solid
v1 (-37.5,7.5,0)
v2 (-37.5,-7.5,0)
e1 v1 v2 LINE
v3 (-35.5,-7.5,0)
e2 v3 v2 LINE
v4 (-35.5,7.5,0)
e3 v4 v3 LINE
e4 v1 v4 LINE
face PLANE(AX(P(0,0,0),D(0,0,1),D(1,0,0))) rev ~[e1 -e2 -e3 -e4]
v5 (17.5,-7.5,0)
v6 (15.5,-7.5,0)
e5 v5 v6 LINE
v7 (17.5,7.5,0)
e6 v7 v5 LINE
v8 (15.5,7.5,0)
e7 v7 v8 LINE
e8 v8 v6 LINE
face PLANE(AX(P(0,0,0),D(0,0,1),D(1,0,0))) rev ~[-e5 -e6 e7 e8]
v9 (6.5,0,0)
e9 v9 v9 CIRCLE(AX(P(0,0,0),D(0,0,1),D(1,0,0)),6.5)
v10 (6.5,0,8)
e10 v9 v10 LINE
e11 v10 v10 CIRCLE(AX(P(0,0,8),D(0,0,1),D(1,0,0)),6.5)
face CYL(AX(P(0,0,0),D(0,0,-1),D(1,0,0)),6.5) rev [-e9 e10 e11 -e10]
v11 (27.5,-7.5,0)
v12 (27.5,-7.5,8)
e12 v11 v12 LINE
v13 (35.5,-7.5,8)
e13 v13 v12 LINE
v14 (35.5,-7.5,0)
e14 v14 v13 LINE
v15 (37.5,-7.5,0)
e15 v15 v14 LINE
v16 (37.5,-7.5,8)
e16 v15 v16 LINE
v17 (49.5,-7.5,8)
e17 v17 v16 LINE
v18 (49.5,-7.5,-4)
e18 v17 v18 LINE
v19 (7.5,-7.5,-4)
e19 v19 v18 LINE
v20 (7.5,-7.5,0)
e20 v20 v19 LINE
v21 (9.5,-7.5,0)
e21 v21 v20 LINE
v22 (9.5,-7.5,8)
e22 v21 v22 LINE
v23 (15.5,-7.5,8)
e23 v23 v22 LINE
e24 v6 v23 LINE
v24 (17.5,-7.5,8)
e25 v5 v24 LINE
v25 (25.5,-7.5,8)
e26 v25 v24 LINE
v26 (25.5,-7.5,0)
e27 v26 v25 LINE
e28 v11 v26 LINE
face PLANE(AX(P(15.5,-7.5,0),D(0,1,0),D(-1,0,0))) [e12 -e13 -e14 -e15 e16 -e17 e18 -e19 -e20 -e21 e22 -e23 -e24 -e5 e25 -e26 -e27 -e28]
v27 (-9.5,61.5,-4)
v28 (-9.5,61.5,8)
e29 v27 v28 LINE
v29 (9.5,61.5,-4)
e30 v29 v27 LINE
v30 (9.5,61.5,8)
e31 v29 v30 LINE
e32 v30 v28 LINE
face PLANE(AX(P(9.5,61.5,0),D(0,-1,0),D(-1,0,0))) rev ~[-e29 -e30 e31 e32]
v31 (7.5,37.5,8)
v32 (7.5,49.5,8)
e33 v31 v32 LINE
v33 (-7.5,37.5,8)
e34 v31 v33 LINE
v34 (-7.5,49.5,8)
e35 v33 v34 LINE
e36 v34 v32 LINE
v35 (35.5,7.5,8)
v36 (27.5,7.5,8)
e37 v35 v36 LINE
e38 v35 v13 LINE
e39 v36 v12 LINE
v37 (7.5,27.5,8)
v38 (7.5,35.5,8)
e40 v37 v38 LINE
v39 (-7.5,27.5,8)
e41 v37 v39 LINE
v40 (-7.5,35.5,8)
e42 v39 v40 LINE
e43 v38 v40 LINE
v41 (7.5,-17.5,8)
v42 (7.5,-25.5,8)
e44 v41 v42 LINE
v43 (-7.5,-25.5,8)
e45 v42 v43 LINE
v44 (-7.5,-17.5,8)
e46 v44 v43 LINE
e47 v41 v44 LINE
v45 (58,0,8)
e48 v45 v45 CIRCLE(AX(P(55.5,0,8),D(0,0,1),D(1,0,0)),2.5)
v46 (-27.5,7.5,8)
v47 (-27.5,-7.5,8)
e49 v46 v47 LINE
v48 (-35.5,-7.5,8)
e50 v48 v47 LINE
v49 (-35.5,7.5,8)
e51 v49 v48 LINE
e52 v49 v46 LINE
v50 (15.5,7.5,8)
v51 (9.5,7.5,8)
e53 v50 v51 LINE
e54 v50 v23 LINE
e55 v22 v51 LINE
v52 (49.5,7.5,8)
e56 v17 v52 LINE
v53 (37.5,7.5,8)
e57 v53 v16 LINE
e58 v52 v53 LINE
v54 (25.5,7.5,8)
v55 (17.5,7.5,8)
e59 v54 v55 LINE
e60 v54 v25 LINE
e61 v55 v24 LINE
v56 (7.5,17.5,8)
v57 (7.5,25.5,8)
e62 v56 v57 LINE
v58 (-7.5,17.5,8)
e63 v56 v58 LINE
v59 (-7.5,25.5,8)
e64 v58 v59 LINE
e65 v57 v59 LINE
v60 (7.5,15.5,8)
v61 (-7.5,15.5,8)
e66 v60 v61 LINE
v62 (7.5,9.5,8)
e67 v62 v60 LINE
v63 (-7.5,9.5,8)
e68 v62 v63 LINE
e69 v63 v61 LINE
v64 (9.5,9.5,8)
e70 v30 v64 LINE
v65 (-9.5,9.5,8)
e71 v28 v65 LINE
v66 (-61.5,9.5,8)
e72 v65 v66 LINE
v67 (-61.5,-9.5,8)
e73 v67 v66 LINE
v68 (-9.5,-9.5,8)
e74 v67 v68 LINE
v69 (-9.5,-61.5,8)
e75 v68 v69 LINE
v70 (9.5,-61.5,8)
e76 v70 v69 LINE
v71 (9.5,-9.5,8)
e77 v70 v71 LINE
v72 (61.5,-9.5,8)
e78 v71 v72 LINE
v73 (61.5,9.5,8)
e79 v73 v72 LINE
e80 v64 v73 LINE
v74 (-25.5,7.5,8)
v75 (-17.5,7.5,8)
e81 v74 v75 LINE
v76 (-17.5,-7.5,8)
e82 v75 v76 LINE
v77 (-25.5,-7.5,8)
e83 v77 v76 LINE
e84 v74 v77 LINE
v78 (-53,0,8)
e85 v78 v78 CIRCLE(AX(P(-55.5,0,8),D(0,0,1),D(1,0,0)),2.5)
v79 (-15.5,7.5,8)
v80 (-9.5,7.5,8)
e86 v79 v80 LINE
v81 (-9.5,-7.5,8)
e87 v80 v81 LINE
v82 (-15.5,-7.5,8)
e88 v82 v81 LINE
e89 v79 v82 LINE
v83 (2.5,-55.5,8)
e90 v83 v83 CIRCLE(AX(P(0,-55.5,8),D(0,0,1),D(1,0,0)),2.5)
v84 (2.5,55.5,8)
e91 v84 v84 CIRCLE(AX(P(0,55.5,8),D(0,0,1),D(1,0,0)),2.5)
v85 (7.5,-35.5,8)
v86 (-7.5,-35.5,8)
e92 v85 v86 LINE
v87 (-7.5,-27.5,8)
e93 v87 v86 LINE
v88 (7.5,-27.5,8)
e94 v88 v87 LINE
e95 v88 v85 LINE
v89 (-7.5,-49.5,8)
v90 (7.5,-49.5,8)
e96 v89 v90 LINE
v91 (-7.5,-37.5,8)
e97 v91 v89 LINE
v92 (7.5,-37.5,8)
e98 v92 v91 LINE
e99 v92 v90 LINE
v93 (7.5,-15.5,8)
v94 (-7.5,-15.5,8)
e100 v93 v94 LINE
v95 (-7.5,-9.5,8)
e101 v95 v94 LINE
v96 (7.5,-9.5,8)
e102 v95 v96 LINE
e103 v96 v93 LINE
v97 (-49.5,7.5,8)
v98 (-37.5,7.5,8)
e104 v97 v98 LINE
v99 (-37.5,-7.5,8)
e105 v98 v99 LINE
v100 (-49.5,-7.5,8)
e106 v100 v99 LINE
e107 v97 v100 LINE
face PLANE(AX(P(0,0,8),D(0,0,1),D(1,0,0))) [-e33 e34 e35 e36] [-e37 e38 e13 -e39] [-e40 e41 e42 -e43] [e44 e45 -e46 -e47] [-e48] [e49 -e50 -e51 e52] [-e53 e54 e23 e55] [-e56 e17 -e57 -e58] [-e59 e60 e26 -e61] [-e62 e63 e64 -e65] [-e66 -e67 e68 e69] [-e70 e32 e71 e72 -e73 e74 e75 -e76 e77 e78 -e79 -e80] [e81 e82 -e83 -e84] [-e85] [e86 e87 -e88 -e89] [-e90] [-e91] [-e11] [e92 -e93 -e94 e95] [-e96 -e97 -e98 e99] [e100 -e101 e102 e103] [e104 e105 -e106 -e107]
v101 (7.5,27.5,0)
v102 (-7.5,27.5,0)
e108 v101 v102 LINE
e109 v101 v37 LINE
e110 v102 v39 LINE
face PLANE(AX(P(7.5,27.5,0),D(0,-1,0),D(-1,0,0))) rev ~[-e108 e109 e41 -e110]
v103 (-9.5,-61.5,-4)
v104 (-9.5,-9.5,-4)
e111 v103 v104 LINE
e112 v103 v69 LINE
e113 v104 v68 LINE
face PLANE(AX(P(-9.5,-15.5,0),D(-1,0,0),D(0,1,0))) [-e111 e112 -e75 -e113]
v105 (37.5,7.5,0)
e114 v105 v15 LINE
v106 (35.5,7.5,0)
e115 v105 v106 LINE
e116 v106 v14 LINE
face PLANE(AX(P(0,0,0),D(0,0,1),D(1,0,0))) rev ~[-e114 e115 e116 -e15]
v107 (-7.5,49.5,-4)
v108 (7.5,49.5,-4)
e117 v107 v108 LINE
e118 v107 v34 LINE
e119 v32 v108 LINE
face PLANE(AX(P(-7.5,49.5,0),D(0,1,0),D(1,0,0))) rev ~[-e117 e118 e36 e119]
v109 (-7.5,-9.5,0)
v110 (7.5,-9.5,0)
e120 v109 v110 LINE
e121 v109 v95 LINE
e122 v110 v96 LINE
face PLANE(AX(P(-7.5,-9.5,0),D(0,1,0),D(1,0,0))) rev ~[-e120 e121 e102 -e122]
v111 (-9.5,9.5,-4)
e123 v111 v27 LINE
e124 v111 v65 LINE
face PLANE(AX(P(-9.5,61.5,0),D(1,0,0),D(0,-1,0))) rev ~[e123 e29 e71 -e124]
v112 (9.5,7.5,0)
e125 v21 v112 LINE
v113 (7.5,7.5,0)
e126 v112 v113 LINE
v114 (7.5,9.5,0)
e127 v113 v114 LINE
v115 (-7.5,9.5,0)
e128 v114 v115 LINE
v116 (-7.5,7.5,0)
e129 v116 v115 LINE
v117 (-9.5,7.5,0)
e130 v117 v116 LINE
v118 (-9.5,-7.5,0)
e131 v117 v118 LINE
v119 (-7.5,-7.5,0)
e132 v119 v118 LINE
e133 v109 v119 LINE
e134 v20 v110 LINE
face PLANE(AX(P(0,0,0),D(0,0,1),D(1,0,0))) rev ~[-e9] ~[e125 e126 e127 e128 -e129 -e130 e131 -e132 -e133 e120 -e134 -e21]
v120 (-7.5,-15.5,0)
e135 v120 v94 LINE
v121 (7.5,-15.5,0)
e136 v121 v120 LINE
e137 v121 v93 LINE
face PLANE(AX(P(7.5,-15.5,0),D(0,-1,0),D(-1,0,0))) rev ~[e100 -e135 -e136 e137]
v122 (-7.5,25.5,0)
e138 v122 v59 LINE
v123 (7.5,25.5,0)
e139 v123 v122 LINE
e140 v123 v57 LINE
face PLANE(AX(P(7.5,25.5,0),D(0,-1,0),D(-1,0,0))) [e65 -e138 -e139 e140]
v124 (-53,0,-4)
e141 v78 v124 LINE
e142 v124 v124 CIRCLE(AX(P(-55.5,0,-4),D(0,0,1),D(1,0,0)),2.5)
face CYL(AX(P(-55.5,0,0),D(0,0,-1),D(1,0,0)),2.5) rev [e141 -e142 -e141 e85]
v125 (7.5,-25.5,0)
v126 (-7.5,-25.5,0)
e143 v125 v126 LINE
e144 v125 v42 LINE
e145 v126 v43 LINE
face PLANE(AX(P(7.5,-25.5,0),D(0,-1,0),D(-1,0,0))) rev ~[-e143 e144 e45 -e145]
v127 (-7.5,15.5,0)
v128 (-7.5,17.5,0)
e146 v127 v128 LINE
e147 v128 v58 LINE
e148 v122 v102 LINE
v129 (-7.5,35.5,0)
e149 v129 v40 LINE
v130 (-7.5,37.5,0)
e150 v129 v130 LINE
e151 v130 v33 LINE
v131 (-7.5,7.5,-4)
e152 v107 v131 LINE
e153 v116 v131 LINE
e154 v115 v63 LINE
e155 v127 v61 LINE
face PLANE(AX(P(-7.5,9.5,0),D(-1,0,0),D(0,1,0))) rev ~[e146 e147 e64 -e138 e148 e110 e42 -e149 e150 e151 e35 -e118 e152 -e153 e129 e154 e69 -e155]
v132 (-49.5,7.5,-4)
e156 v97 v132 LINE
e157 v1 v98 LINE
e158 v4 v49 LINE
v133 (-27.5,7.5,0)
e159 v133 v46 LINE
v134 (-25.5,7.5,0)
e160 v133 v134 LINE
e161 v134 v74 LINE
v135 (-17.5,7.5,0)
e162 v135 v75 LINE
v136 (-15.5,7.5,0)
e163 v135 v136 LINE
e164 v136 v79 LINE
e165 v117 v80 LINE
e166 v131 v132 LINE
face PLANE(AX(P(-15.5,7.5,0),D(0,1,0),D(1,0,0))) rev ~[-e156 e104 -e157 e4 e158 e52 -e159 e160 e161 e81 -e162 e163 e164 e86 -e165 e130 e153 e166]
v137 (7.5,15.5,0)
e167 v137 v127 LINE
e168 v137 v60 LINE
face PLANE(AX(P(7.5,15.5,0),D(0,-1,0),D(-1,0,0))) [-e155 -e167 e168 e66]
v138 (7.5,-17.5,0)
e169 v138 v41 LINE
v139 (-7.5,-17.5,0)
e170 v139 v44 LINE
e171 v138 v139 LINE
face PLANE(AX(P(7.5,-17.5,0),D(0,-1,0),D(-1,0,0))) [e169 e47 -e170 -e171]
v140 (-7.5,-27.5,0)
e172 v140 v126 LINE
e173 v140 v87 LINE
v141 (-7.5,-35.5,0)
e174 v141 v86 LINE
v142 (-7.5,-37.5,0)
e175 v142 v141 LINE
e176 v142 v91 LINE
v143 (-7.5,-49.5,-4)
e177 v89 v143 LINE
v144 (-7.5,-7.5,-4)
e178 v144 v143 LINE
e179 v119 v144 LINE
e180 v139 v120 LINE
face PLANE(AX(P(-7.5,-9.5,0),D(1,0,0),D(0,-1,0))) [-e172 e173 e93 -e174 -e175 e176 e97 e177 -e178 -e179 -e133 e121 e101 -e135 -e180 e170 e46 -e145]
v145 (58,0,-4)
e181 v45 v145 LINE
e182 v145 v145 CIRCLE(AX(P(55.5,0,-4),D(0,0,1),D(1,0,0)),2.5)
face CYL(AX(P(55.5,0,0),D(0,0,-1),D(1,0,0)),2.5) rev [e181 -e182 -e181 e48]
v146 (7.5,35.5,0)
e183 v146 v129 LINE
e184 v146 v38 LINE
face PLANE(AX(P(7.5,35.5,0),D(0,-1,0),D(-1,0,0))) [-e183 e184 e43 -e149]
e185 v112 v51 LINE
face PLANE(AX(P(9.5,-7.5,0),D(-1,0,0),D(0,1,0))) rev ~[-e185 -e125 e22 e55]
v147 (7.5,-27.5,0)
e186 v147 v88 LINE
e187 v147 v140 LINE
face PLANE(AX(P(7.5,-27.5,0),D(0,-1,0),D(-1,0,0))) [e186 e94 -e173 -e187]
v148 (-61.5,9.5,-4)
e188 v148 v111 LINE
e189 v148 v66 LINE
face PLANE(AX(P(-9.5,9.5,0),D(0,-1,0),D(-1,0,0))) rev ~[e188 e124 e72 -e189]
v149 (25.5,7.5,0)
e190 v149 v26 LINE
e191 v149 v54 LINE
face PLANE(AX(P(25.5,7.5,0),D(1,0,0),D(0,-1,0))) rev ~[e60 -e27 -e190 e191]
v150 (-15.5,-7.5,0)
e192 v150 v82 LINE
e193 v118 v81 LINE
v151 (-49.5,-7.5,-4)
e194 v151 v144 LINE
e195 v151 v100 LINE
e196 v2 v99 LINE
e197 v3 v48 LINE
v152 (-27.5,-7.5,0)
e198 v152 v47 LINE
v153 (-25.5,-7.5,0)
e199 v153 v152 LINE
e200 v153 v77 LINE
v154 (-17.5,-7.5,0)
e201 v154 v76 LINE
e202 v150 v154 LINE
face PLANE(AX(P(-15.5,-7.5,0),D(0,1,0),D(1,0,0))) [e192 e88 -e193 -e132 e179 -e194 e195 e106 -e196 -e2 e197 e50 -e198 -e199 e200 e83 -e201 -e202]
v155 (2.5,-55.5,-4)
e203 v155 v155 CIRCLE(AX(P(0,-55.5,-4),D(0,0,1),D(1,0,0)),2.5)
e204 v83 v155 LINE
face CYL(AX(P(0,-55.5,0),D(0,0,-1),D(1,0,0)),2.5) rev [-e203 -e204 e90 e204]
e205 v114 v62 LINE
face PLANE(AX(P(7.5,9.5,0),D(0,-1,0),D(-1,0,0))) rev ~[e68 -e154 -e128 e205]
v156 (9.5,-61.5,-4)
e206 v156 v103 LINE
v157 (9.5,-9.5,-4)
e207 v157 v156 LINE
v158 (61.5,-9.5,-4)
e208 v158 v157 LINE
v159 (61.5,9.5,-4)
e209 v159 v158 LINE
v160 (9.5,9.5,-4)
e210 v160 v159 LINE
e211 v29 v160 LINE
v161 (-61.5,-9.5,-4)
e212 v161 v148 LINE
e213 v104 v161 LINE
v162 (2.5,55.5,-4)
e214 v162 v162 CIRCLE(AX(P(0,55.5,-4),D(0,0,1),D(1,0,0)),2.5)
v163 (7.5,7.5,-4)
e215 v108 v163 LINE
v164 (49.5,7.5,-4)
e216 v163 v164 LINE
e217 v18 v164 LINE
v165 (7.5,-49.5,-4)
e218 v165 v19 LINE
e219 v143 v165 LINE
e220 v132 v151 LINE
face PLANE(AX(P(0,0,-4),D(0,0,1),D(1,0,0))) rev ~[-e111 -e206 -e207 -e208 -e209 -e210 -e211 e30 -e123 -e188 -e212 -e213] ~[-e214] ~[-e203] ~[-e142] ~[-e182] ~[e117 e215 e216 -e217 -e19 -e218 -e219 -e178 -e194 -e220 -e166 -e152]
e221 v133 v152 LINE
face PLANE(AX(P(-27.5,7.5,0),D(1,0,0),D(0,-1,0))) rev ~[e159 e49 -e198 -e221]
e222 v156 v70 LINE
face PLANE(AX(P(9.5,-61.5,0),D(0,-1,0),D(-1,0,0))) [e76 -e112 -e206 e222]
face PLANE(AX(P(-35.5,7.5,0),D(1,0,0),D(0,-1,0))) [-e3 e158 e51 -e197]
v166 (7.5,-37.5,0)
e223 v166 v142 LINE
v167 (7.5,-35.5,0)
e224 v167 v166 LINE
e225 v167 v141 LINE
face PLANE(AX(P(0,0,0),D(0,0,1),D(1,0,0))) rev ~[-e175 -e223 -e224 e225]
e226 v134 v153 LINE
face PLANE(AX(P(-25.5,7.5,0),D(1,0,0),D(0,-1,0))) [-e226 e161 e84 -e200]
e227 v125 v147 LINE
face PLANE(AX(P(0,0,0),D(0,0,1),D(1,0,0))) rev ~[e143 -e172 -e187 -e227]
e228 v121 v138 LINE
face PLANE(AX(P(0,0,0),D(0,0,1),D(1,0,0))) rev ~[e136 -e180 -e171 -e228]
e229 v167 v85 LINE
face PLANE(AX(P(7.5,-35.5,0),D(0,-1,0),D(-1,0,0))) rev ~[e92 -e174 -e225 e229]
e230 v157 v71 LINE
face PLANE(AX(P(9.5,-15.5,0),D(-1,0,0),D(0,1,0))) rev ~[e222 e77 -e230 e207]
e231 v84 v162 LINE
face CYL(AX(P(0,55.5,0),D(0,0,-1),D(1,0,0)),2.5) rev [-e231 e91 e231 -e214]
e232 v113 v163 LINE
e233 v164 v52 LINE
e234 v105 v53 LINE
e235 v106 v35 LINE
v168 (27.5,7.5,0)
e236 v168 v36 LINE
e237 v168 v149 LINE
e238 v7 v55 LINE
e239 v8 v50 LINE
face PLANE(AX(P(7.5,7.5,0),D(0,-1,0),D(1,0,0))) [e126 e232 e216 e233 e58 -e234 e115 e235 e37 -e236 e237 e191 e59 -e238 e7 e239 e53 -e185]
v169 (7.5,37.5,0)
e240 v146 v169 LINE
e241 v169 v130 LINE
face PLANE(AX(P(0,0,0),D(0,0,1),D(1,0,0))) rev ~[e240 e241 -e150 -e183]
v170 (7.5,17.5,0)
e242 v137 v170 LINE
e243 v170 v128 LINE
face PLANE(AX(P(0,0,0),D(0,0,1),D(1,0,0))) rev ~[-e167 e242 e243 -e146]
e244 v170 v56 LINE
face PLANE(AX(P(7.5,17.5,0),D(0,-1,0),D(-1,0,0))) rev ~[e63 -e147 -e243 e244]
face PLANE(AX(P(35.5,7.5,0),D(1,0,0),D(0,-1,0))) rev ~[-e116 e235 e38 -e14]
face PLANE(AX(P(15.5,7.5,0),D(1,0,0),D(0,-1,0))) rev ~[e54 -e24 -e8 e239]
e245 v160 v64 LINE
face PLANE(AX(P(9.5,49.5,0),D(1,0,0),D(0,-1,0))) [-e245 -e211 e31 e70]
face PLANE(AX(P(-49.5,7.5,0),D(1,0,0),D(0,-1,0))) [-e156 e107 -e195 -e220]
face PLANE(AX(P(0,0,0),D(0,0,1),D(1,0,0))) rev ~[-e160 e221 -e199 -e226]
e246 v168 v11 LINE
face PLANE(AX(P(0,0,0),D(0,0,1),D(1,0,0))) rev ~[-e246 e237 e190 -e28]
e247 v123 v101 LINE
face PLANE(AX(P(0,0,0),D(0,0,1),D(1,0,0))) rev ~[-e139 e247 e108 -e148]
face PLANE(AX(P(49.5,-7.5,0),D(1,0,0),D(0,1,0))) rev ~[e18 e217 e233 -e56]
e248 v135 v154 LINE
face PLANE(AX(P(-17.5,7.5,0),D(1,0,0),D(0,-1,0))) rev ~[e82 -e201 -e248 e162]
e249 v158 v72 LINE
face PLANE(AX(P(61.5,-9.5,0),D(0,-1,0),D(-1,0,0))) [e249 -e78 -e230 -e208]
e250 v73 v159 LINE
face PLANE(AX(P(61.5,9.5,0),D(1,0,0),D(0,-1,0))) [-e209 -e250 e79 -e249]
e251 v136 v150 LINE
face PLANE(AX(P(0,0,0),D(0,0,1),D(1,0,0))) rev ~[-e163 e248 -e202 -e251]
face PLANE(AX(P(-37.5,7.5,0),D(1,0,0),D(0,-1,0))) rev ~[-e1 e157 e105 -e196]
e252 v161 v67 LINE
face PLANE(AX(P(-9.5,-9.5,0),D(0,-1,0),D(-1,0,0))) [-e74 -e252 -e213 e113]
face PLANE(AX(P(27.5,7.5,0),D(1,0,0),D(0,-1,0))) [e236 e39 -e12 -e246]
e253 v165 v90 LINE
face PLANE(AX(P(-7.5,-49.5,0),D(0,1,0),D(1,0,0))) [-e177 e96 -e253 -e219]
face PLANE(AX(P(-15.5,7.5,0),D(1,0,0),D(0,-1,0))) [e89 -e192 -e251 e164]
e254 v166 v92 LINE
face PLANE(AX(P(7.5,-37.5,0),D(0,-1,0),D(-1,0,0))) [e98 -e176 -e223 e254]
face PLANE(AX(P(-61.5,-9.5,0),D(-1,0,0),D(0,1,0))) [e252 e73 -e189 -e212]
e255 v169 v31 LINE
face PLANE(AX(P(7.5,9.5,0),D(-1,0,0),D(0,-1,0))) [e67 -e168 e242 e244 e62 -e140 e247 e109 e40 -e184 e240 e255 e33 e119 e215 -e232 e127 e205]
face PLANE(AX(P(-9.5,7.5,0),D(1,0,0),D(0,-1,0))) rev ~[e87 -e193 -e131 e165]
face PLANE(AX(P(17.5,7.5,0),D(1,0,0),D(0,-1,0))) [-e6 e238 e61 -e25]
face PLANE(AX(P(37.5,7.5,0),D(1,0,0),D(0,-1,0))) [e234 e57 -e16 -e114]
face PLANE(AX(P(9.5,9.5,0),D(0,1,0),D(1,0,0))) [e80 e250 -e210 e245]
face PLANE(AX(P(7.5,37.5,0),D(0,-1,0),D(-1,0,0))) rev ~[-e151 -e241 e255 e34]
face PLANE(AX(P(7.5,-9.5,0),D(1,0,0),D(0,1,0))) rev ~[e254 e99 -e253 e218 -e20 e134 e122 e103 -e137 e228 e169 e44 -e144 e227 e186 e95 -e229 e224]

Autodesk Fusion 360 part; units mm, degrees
sketch "Esboço1" plane through (0, 0, 0) normal (0, 0, 1) x (1, 0, 0)
  line L0 (9.5, 9.5) -> (-9.5, 9.5)
  line L1 (-9.5, 9.5) -> (-9.5, -9.5)
  line L2 (-9.5, -9.5) -> (9.5, -9.5)
  line L3 (9.5, -9.5) -> (9.5, 9.5)
  line L4 (9.5, 9.5) -> (-9.5, -9.5) construction
  line L5 (-9.5, 9.5) -> (9.5, -9.5) construction
  circle A0 centre (0, 0) radius 6.5
  line L6 (-9.5, 9.5) -> (-7.5, 9.5)
  line L7 (-7.5, 9.5) -> (-7.5, 7.5)
  line L8 (-7.5, 7.5) -> (-9.5, 7.5)
  line L9 (-9.5, 7.5) -> (-9.5, 9.5)
  line L10 (9.5, 9.5) -> (7.5, 9.5)
  line L11 (7.5, 9.5) -> (7.5, 7.5)
  line L12 (7.5, 7.5) -> (9.5, 7.5)
  line L13 (9.5, 7.5) -> (9.5, 9.5)
  line L14 (-9.5, -9.5) -> (-7.5, -9.5)
  line L15 (-7.5, -9.5) -> (-7.5, -7.5)
  line L16 (-7.5, -7.5) -> (-9.5, -7.5)
  line L17 (-9.5, -7.5) -> (-9.5, -9.5)
  line L18 (9.5, -9.5) -> (7.5, -9.5)
  line L19 (7.5, -9.5) -> (7.5, -7.5)
  line L20 (7.5, -7.5) -> (9.5, -7.5)
  line L21 (9.5, -7.5) -> (9.5, -9.5)
  line L22 (-9.5, 9.5) -> (-7.5, 9.5)
  line L23 (-7.5, 9.5) -> (-7.5, 49.5)
  line L24 (-7.5, 49.5) -> (-9.5, 49.5)
  line L25 (-9.5, 49.5) -> (-9.5, 9.5)
  line L26 (9.5, 9.5) -> (7.5, 9.5)
  line L27 (7.5, 9.5) -> (7.5, 49.5)
  line L28 (7.5, 49.5) -> (9.5, 49.5)
  line L29 (9.5, 49.5) -> (9.5, 9.5)
  line L30 (-9.5, 49.5) -> (9.5, 49.5)
  line L31 (9.5, 49.5) -> (9.5, 61.5)
  line L32 (9.5, 61.5) -> (-9.5, 61.5)
  line L33 (-9.5, 61.5) -> (-9.5, 49.5)
  line L34 (-9.5, 61.5) -> (9.5, 49.5) construction
  circle A1 centre (0, 55.5) radius 2.5
  line L35 (-7.5, 9.5) -> (7.5, 9.5)
  line L36 (7.5, 9.5) -> (7.5, 15.5)
  line L37 (7.5, 15.5) -> (-7.5, 15.5)
  line L38 (-7.5, 15.5) -> (-7.5, 9.5)
  line L39 (-7.5, 15.5) -> (7.5, 15.5)
  line L40 (7.5, 15.5) -> (7.5, 17.5)
  line L41 (7.5, 17.5) -> (-7.5, 17.5)
  line L42 (-7.5, 17.5) -> (-7.5, 15.5)
  line L43 (-7.5, 17.5) -> (7.5, 17.5)
  line L44 (7.5, 17.5) -> (7.5, 25.5)
  line L45 (7.5, 25.5) -> (-7.5, 25.5)
  line L46 (-7.5, 25.5) -> (-7.5, 17.5)
  line L47 (-7.5, 25.5) -> (7.5, 25.5)
  line L48 (7.5, 25.5) -> (7.5, 27.5)
  line L49 (7.5, 27.5) -> (-7.5, 27.5)
  line L50 (-7.5, 27.5) -> (-7.5, 25.5)
  line L51 (-7.5, 27.5) -> (7.5, 27.5)
  line L52 (7.5, 27.5) -> (7.5, 35.5)
  line L53 (7.5, 35.5) -> (-7.5, 35.5)
  line L54 (-7.5, 35.5) -> (-7.5, 27.5)
  line L55 (-7.5, 35.5) -> (7.5, 35.5)
  line L56 (7.5, 35.5) -> (7.5, 37.5)
  line L57 (7.5, 37.5) -> (-7.5, 37.5)
  line L58 (-7.5, 37.5) -> (-7.5, 35.5)
  line L59 (9.5, 9.5) -> (49.5, 9.5)
  line L60 (49.5, 9.5) -> (49.5, 7.5)
  line L61 (49.5, 7.5) -> (9.5, 7.5)
  line L62 (9.5, 7.5) -> (9.5, 9.5)
  line L63 (9.5, -9.5) -> (49.5, -9.5)
  line L64 (49.5, -9.5) -> (49.5, -7.5)
  line L65 (49.5, -7.5) -> (9.5, -7.5)
  line L66 (9.5, -7.5) -> (9.5, -9.5)
  line L67 (49.5, 9.5) -> (61.5, 9.5)
  line L68 (61.5, 9.5) -> (61.5, -9.5)
  line L69 (61.5, -9.5) -> (49.5, -9.5)
  line L70 (49.5, -9.5) -> (49.5, 9.5)
  line L71 (49.5, 9.5) -> (61.5, -9.5) construction
  circle A2 centre (55.5, 0) radius 2.5
  line L72 (9.5, 7.5) -> (15.5, 7.5)
  line L73 (15.5, 7.5) -> (15.5, -7.5)
  line L74 (15.5, -7.5) -> (9.5, -7.5)
  line L75 (9.5, -7.5) -> (9.5, 7.5)
  line L76 (15.5, 7.5) -> (17.5, 7.5)
  line L77 (17.5, 7.5) -> (17.5, -7.5)
  line L78 (17.5, -7.5) -> (15.5, -7.5)
  line L79 (15.5, -7.5) -> (15.5, 7.5)
  line L80 (17.5, 7.5) -> (25.5, 7.5)
  line L81 (25.5, 7.5) -> (25.5, -7.5)
  line L82 (25.5, -7.5) -> (17.5, -7.5)
  line L83 (17.5, -7.5) -> (17.5, 7.5)
  line L84 (25.5, 7.5) -> (27.5, 7.5)
  line L85 (27.5, 7.5) -> (27.5, -7.5)
  line L86 (27.5, -7.5) -> (25.5, -7.5)
  line L87 (25.5, -7.5) -> (25.5, 7.5)
  line L88 (27.5, 7.5) -> (35.5, 7.5)
  line L89 (35.5, 7.5) -> (35.5, -7.5)
  line L90 (35.5, -7.5) -> (27.5, -7.5)
  line L91 (27.5, -7.5) -> (27.5, 7.5)
  line L92 (35.5, 7.5) -> (37.5, 7.5)
  line L93 (37.5, 7.5) -> (37.5, -7.5)
  line L94 (37.5, -7.5) -> (35.5, -7.5)
  line L95 (35.5, -7.5) -> (35.5, 7.5)
  line L96 (-9.5, -9.5) -> (-7.5, -9.5)
  line L97 (-7.5, -9.5) -> (-7.5, -49.5)
  line L98 (-7.5, -49.5) -> (-9.5, -49.5)
  line L99 (-9.5, -49.5) -> (-9.5, -9.5)
  line L100 (9.5, -9.5) -> (7.5, -9.5)
  line L101 (7.5, -9.5) -> (7.5, -49.5)
  line L102 (7.5, -49.5) -> (9.5, -49.5)
  line L103 (9.5, -49.5) -> (9.5, -9.5)
  line L104 (-9.5, -49.5) -> (9.5, -49.5)
  line L105 (9.5, -49.5) -> (9.5, -61.5)
  line L106 (9.5, -61.5) -> (-9.5, -61.5)
  line L107 (-9.5, -61.5) -> (-9.5, -49.5)
  line L108 (-9.5, -49.5) -> (9.5, -61.5) construction
  circle A3 centre (0, -55.5) radius 2.5
  line L109 (-9.5, -9.5) -> (9.5, -9.5)
  line L110 (9.5, -9.5) -> (9.5, -15.5)
  line L111 (9.5, -15.5) -> (-9.5, -15.5)
  line L112 (-9.5, -15.5) -> (-9.5, -9.5)
  line L113 (-9.5, -15.5) -> (9.5, -15.5)
  line L114 (9.5, -15.5) -> (9.5, -17.5)
  line L115 (9.5, -17.5) -> (-9.5, -17.5)
  line L116 (-9.5, -17.5) -> (-9.5, -15.5)
  line L117 (-9.5, -17.5) -> (9.5, -17.5)
  line L118 (9.5, -17.5) -> (9.5, -25.5)
  line L119 (9.5, -25.5) -> (-9.5, -25.5)
  line L120 (-9.5, -25.5) -> (-9.5, -17.5)
  line L121 (-9.5, -25.5) -> (9.5, -25.5)
  line L122 (9.5, -25.5) -> (9.5, -27.5)
  line L123 (9.5, -27.5) -> (-9.5, -27.5)
  line L124 (-9.5, -27.5) -> (-9.5, -25.5)
  line L125 (-9.5, -27.5) -> (9.5, -27.5)
  line L126 (9.5, -27.5) -> (9.5, -35.5)
  line L127 (9.5, -35.5) -> (-9.5, -35.5)
  line L128 (-9.5, -35.5) -> (-9.5, -27.5)
  line L129 (-9.5, -35.5) -> (9.5, -35.5)
  line L130 (9.5, -35.5) -> (9.5, -37.5)
  line L131 (9.5, -37.5) -> (-9.5, -37.5)
  line L132 (-9.5, -37.5) -> (-9.5, -35.5)
  line L133 (-9.5, 9.5) -> (-49.5, 9.5)
  line L134 (-49.5, 9.5) -> (-49.5, 7.5)
  line L135 (-49.5, 7.5) -> (-9.5, 7.5)
  line L136 (-9.5, 7.5) -> (-9.5, 9.5)
  line L137 (-9.5, -9.5) -> (-49.5, -9.5)
  line L138 (-49.5, -9.5) -> (-49.5, -7.5)
  line L139 (-49.5, -7.5) -> (-9.5, -7.5)
  line L140 (-9.5, -7.5) -> (-9.5, -9.5)
  line L141 (-49.5, -9.5) -> (-61.5, -9.5)
  line L142 (-61.5, -9.5) -> (-61.5, 9.5)
  line L143 (-61.5, 9.5) -> (-49.5, 9.5)
  line L144 (-49.5, 9.5) -> (-49.5, -9.5)
  line L145 (-61.5, 9.5) -> (-49.5, -9.5) construction
  circle A4 centre (-55.5, 0) radius 2.5
  line L146 (-9.5, 9.5) -> (-15.5, 9.5)
  line L147 (-15.5, 9.5) -> (-15.5, -9.5)
  line L148 (-15.5, -9.5) -> (-9.5, -9.5)
  line L149 (-9.5, -9.5) -> (-9.5, 9.5)
  line L150 (-15.5, 9.5) -> (-17.5, 9.5)
  line L151 (-17.5, 9.5) -> (-17.5, -9.5)
  line L152 (-17.5, -9.5) -> (-15.5, -9.5)
  line L153 (-15.5, -9.5) -> (-15.5, 9.5)
  line L154 (-17.5, 9.5) -> (-25.5, 9.5)
  line L155 (-25.5, 9.5) -> (-25.5, -9.5)
  line L156 (-25.5, -9.5) -> (-17.5, -9.5)
  line L157 (-17.5, -9.5) -> (-17.5, 9.5)
  line L158 (-25.5, 9.5) -> (-27.5, 9.5)
  line L159 (-27.5, 9.5) -> (-27.5, -9.5)
  line L160 (-27.5, -9.5) -> (-25.5, -9.5)
  line L161 (-25.5, -9.5) -> (-25.5, 9.5)
  line L162 (-27.5, 9.5) -> (-35.5, 9.5)
  line L163 (-35.5, 9.5) -> (-35.5, -9.5)
  line L164 (-35.5, -9.5) -> (-27.5, -9.5)
  line L165 (-27.5, -9.5) -> (-27.5, 9.5)
  line L166 (-35.5, 9.5) -> (-37.5, 9.5)
  line L167 (-37.5, 9.5) -> (-37.5, -9.5)
  line L168 (-37.5, -9.5) -> (-35.5, -9.5)
  line L169 (-35.5, -9.5) -> (-35.5, 9.5)
  dimension "d1" = 19
  dimension "d2" = 19
  dimension "d3" = 13
  dimension "d4" = 2
  dimension "d5" = 2
  dimension "d6" = 2
  dimension "d7" = 2
  dimension "d8" = 2
  dimension "d9" = 2
  dimension "d10" = 2
  dimension "d11" = 2
  dimension "d13" = 2
  dimension "d14" = 40
  dimension "d15" = 2
  dimension "d16" = 40
  dimension "d17" = 19
  dimension "d18" = 12
  dimension "d19" = 5
  dimension "d20" = 15
  dimension "d21" = 6
  dimension "d22" = 2
  dimension "d23" = 8
  dimension "d24" = 2
  dimension "d25" = 8
  dimension "d26" = 2
  dimension "d27" = 40
  dimension "d28" = 2
  dimension "d29" = 40
  dimension "d30" = 2
  dimension "d31" = 12
  dimension "d32" = 19
  dimension "d33" = 5
  dimension "d34" = 6
  dimension "d35" = 2
  dimension "d36" = 8
  dimension "d37" = 15
  dimension "d38" = 2
  dimension "d39" = 8
  dimension "d40" = 2
  dimension "d41" = 40
  dimension "d42" = 2
  dimension "d43" = 40
  dimension "d44" = 12
  dimension "d45" = 5
  dimension "d46" = 6
  dimension "d47" = 2
  dimension "d48" = 8
  dimension "d49" = 2
  dimension "d50" = 8
  dimension "d51" = 2
  dimension "d52" = 40
  dimension "d53" = 2
  dimension "d54" = 40
  dimension "d55" = 2
  dimension "d56" = 12
  dimension "d57" = 19
  dimension "d58" = 5
  dimension "d59" = 6
  dimension "d60" = 2
  dimension "d61" = 8
  dimension "d62" = 2
  dimension "d63" = 8
  dimension "d64" = 2
extrude "Extrusão1" add sketch "Esboço1" along normal blind 8 contours L0 L3 L10 L11 L12 L13 L26 L62 | L3 L13 L59 L60 L61 L62 L70 L72 L76 L80 L84 L88 L92 | L0 L10 L26 L27 L28 L29 L30 L36 L40 L44 L48 L52 L56 | L0 L1 L2 L3 L7 L8 L11 L12 L15 L16 L19 L20 L35 L75 L109 L149 | L24 L28 L30 L31 L32 L33 | L60 L64 L67 L68 L69 L70 | L0 L1 L6 L7 L8 L9 L22 L136 L149 | L0 L6 L22 L23 L24 L25 L30 L38 L42 L46 L50 L54 L58 | L23 L27 L37 L39 L40 L41 L42 L43 | L3 L21 L63 L64 L65 L66 L70 L74 L78 L82 L86 L90 L94 | L2 L3 L18 L19 L20 L21 L66 L100 L109 | L61 L65 L73 L76 L77 L78 L79 L83 | L1 L9 L133 L135 L136 L146 L147 L149 L153 | L2 L18 L100 L101 L103 L109 L110 L111 L113 | L23 L27 L53 L55 L56 L57 L58 | L61 L65 L89 L92 L93 L94 L95 | L133 L135 L147 L150 L151 L153 L157 | L23 L27 L45 L47 L48 L49 L50 L51 | L101 L103 L111 L113 L114 L115 L117 | L61 L65 L81 L84 L85 L86 L87 L91 | L1 L2 L14 L15 L16 L17 L96 L109 L140 L149 | L1 L17 L137 L139 L140 L147 L148 L149 L153 | L135 L139 L147 L151 L153 L157 | L133 L135 L151 L154 L155 L157 L161 | L2 L14 L96 L97 L99 L109 L111 L112 L113 | L97 L101 L111 L113 L115 L117 | L101 L103 L115 L117 L118 L119 L121 | L137 L139 L147 L151 L152 L153 L157 | L133 L135 L155 L158 L159 L161 L165 | L97 L99 L111 L113 L115 L116 L117 | L101 L103 L119 L121 L122 L123 L125 | L137 L139 L151 L155 L156 L157 L161 | L135 L139 L155 L159 L161 L165 | L133 L135 L159 L162 L163 L165 L169 | L97 L99 L115 L117 L119 L120 L121 | L97 L101 L119 L121 L123 L125 | L101 L103 L123 L125 L126 L127 L129 | L137 L139 L155 L159 L160 L161 L165 | L133 L135 L163 L166 L167 L169 | L97 L99 L119 L121 L123 L124 L125 | L101 L103 L127 L129 L130 L131 | L137 L139 L159 L163 L164 L165 L169 | L135 L139 L163 L167 L169 | L133 L134 L135 L144 L167 | L97 L99 L123 L125 L127 L128 L129 | L97 L101 L127 L129 L131 | L101 L102 L103 L104 L131 | L137 L139 L163 L167 L168 L169 | L134 L138 L141 L142 L143 L144 | L97 L99 L127 L129 L131 L132 | L98 L102 L104 L105 L106 L107 | L137 L138 L139 L144 L167 | L97 L98 L99 L104 L131
extrude "Extrusão2" add sketch "Esboço1" against normal blind 4 contours L0 L3 L10 L11 L12 L13 L26 L62 | L3 L13 L59 L60 L61 L62 L70 L72 L76 L80 L84 L88 L92 | L0 L10 L26 L27 L28 L29 L30 L36 L40 L44 L48 L52 L56 | L24 L28 L30 L31 L32 L33 | L60 L64 L67 L68 L69 L70 | L0 L1 L6 L7 L8 L9 L22 L136 L149 | L0 L6 L22 L23 L24 L25 L30 L38 L42 L46 L50 L54 L58 | L3 L21 L63 L64 L65 L66 L70 L74 L78 L82 L86 L90 L94 | L2 L3 L18 L19 L20 L21 L66 L100 L109 | L1 L9 L133 L135 L136 L146 L147 L149 L153 | L2 L18 L100 L101 L103 L109 L110 L111 L113 | L133 L135 L147 L150 L151 L153 L157 | L101 L103 L111 L113 L114 L115 L117 | L1 L2 L14 L15 L16 L17 L96 L109 L140 L149 | L1 L17 L137 L139 L140 L147 L148 L149 L153 | L133 L135 L151 L154 L155 L157 L161 | L2 L14 L96 L97 L99 L109 L111 L112 L113 | L101 L103 L115 L117 L118 L119 L121 | L137 L139 L147 L151 L152 L153 L157 | L133 L135 L155 L158 L159 L161 L165 | L97 L99 L111 L113 L115 L116 L117 | L101 L103 L119 L121 L122 L123 L125 | L137 L139 L151 L155 L156 L157 L161 | L133 L135 L159 L162 L163 L165 L169 | L97 L99 L115 L117 L119 L120 L121 | L101 L103 L123 L125 L126 L127 L129 | L137 L139 L155 L159 L160 L161 L165 | L133 L135 L163 L166 L167 L169 | L97 L99 L119 L121 L123 L124 L125 | L101 L103 L127 L129 L130 L131 | L137 L139 L159 L163 L164 L165 L169 | L133 L134 L135 L144 L167 | L97 L99 L123 L125 L127 L128 L129 | L101 L102 L103 L104 L131 | L137 L139 L163 L167 L168 L169 | L134 L138 L141 L142 L143 L144 | L97 L99 L127 L129 L131 L132 | L98 L102 L104 L105 L106 L107 | L137 L138 L139 L144 L167 | L97 L98 L99 L104 L131
